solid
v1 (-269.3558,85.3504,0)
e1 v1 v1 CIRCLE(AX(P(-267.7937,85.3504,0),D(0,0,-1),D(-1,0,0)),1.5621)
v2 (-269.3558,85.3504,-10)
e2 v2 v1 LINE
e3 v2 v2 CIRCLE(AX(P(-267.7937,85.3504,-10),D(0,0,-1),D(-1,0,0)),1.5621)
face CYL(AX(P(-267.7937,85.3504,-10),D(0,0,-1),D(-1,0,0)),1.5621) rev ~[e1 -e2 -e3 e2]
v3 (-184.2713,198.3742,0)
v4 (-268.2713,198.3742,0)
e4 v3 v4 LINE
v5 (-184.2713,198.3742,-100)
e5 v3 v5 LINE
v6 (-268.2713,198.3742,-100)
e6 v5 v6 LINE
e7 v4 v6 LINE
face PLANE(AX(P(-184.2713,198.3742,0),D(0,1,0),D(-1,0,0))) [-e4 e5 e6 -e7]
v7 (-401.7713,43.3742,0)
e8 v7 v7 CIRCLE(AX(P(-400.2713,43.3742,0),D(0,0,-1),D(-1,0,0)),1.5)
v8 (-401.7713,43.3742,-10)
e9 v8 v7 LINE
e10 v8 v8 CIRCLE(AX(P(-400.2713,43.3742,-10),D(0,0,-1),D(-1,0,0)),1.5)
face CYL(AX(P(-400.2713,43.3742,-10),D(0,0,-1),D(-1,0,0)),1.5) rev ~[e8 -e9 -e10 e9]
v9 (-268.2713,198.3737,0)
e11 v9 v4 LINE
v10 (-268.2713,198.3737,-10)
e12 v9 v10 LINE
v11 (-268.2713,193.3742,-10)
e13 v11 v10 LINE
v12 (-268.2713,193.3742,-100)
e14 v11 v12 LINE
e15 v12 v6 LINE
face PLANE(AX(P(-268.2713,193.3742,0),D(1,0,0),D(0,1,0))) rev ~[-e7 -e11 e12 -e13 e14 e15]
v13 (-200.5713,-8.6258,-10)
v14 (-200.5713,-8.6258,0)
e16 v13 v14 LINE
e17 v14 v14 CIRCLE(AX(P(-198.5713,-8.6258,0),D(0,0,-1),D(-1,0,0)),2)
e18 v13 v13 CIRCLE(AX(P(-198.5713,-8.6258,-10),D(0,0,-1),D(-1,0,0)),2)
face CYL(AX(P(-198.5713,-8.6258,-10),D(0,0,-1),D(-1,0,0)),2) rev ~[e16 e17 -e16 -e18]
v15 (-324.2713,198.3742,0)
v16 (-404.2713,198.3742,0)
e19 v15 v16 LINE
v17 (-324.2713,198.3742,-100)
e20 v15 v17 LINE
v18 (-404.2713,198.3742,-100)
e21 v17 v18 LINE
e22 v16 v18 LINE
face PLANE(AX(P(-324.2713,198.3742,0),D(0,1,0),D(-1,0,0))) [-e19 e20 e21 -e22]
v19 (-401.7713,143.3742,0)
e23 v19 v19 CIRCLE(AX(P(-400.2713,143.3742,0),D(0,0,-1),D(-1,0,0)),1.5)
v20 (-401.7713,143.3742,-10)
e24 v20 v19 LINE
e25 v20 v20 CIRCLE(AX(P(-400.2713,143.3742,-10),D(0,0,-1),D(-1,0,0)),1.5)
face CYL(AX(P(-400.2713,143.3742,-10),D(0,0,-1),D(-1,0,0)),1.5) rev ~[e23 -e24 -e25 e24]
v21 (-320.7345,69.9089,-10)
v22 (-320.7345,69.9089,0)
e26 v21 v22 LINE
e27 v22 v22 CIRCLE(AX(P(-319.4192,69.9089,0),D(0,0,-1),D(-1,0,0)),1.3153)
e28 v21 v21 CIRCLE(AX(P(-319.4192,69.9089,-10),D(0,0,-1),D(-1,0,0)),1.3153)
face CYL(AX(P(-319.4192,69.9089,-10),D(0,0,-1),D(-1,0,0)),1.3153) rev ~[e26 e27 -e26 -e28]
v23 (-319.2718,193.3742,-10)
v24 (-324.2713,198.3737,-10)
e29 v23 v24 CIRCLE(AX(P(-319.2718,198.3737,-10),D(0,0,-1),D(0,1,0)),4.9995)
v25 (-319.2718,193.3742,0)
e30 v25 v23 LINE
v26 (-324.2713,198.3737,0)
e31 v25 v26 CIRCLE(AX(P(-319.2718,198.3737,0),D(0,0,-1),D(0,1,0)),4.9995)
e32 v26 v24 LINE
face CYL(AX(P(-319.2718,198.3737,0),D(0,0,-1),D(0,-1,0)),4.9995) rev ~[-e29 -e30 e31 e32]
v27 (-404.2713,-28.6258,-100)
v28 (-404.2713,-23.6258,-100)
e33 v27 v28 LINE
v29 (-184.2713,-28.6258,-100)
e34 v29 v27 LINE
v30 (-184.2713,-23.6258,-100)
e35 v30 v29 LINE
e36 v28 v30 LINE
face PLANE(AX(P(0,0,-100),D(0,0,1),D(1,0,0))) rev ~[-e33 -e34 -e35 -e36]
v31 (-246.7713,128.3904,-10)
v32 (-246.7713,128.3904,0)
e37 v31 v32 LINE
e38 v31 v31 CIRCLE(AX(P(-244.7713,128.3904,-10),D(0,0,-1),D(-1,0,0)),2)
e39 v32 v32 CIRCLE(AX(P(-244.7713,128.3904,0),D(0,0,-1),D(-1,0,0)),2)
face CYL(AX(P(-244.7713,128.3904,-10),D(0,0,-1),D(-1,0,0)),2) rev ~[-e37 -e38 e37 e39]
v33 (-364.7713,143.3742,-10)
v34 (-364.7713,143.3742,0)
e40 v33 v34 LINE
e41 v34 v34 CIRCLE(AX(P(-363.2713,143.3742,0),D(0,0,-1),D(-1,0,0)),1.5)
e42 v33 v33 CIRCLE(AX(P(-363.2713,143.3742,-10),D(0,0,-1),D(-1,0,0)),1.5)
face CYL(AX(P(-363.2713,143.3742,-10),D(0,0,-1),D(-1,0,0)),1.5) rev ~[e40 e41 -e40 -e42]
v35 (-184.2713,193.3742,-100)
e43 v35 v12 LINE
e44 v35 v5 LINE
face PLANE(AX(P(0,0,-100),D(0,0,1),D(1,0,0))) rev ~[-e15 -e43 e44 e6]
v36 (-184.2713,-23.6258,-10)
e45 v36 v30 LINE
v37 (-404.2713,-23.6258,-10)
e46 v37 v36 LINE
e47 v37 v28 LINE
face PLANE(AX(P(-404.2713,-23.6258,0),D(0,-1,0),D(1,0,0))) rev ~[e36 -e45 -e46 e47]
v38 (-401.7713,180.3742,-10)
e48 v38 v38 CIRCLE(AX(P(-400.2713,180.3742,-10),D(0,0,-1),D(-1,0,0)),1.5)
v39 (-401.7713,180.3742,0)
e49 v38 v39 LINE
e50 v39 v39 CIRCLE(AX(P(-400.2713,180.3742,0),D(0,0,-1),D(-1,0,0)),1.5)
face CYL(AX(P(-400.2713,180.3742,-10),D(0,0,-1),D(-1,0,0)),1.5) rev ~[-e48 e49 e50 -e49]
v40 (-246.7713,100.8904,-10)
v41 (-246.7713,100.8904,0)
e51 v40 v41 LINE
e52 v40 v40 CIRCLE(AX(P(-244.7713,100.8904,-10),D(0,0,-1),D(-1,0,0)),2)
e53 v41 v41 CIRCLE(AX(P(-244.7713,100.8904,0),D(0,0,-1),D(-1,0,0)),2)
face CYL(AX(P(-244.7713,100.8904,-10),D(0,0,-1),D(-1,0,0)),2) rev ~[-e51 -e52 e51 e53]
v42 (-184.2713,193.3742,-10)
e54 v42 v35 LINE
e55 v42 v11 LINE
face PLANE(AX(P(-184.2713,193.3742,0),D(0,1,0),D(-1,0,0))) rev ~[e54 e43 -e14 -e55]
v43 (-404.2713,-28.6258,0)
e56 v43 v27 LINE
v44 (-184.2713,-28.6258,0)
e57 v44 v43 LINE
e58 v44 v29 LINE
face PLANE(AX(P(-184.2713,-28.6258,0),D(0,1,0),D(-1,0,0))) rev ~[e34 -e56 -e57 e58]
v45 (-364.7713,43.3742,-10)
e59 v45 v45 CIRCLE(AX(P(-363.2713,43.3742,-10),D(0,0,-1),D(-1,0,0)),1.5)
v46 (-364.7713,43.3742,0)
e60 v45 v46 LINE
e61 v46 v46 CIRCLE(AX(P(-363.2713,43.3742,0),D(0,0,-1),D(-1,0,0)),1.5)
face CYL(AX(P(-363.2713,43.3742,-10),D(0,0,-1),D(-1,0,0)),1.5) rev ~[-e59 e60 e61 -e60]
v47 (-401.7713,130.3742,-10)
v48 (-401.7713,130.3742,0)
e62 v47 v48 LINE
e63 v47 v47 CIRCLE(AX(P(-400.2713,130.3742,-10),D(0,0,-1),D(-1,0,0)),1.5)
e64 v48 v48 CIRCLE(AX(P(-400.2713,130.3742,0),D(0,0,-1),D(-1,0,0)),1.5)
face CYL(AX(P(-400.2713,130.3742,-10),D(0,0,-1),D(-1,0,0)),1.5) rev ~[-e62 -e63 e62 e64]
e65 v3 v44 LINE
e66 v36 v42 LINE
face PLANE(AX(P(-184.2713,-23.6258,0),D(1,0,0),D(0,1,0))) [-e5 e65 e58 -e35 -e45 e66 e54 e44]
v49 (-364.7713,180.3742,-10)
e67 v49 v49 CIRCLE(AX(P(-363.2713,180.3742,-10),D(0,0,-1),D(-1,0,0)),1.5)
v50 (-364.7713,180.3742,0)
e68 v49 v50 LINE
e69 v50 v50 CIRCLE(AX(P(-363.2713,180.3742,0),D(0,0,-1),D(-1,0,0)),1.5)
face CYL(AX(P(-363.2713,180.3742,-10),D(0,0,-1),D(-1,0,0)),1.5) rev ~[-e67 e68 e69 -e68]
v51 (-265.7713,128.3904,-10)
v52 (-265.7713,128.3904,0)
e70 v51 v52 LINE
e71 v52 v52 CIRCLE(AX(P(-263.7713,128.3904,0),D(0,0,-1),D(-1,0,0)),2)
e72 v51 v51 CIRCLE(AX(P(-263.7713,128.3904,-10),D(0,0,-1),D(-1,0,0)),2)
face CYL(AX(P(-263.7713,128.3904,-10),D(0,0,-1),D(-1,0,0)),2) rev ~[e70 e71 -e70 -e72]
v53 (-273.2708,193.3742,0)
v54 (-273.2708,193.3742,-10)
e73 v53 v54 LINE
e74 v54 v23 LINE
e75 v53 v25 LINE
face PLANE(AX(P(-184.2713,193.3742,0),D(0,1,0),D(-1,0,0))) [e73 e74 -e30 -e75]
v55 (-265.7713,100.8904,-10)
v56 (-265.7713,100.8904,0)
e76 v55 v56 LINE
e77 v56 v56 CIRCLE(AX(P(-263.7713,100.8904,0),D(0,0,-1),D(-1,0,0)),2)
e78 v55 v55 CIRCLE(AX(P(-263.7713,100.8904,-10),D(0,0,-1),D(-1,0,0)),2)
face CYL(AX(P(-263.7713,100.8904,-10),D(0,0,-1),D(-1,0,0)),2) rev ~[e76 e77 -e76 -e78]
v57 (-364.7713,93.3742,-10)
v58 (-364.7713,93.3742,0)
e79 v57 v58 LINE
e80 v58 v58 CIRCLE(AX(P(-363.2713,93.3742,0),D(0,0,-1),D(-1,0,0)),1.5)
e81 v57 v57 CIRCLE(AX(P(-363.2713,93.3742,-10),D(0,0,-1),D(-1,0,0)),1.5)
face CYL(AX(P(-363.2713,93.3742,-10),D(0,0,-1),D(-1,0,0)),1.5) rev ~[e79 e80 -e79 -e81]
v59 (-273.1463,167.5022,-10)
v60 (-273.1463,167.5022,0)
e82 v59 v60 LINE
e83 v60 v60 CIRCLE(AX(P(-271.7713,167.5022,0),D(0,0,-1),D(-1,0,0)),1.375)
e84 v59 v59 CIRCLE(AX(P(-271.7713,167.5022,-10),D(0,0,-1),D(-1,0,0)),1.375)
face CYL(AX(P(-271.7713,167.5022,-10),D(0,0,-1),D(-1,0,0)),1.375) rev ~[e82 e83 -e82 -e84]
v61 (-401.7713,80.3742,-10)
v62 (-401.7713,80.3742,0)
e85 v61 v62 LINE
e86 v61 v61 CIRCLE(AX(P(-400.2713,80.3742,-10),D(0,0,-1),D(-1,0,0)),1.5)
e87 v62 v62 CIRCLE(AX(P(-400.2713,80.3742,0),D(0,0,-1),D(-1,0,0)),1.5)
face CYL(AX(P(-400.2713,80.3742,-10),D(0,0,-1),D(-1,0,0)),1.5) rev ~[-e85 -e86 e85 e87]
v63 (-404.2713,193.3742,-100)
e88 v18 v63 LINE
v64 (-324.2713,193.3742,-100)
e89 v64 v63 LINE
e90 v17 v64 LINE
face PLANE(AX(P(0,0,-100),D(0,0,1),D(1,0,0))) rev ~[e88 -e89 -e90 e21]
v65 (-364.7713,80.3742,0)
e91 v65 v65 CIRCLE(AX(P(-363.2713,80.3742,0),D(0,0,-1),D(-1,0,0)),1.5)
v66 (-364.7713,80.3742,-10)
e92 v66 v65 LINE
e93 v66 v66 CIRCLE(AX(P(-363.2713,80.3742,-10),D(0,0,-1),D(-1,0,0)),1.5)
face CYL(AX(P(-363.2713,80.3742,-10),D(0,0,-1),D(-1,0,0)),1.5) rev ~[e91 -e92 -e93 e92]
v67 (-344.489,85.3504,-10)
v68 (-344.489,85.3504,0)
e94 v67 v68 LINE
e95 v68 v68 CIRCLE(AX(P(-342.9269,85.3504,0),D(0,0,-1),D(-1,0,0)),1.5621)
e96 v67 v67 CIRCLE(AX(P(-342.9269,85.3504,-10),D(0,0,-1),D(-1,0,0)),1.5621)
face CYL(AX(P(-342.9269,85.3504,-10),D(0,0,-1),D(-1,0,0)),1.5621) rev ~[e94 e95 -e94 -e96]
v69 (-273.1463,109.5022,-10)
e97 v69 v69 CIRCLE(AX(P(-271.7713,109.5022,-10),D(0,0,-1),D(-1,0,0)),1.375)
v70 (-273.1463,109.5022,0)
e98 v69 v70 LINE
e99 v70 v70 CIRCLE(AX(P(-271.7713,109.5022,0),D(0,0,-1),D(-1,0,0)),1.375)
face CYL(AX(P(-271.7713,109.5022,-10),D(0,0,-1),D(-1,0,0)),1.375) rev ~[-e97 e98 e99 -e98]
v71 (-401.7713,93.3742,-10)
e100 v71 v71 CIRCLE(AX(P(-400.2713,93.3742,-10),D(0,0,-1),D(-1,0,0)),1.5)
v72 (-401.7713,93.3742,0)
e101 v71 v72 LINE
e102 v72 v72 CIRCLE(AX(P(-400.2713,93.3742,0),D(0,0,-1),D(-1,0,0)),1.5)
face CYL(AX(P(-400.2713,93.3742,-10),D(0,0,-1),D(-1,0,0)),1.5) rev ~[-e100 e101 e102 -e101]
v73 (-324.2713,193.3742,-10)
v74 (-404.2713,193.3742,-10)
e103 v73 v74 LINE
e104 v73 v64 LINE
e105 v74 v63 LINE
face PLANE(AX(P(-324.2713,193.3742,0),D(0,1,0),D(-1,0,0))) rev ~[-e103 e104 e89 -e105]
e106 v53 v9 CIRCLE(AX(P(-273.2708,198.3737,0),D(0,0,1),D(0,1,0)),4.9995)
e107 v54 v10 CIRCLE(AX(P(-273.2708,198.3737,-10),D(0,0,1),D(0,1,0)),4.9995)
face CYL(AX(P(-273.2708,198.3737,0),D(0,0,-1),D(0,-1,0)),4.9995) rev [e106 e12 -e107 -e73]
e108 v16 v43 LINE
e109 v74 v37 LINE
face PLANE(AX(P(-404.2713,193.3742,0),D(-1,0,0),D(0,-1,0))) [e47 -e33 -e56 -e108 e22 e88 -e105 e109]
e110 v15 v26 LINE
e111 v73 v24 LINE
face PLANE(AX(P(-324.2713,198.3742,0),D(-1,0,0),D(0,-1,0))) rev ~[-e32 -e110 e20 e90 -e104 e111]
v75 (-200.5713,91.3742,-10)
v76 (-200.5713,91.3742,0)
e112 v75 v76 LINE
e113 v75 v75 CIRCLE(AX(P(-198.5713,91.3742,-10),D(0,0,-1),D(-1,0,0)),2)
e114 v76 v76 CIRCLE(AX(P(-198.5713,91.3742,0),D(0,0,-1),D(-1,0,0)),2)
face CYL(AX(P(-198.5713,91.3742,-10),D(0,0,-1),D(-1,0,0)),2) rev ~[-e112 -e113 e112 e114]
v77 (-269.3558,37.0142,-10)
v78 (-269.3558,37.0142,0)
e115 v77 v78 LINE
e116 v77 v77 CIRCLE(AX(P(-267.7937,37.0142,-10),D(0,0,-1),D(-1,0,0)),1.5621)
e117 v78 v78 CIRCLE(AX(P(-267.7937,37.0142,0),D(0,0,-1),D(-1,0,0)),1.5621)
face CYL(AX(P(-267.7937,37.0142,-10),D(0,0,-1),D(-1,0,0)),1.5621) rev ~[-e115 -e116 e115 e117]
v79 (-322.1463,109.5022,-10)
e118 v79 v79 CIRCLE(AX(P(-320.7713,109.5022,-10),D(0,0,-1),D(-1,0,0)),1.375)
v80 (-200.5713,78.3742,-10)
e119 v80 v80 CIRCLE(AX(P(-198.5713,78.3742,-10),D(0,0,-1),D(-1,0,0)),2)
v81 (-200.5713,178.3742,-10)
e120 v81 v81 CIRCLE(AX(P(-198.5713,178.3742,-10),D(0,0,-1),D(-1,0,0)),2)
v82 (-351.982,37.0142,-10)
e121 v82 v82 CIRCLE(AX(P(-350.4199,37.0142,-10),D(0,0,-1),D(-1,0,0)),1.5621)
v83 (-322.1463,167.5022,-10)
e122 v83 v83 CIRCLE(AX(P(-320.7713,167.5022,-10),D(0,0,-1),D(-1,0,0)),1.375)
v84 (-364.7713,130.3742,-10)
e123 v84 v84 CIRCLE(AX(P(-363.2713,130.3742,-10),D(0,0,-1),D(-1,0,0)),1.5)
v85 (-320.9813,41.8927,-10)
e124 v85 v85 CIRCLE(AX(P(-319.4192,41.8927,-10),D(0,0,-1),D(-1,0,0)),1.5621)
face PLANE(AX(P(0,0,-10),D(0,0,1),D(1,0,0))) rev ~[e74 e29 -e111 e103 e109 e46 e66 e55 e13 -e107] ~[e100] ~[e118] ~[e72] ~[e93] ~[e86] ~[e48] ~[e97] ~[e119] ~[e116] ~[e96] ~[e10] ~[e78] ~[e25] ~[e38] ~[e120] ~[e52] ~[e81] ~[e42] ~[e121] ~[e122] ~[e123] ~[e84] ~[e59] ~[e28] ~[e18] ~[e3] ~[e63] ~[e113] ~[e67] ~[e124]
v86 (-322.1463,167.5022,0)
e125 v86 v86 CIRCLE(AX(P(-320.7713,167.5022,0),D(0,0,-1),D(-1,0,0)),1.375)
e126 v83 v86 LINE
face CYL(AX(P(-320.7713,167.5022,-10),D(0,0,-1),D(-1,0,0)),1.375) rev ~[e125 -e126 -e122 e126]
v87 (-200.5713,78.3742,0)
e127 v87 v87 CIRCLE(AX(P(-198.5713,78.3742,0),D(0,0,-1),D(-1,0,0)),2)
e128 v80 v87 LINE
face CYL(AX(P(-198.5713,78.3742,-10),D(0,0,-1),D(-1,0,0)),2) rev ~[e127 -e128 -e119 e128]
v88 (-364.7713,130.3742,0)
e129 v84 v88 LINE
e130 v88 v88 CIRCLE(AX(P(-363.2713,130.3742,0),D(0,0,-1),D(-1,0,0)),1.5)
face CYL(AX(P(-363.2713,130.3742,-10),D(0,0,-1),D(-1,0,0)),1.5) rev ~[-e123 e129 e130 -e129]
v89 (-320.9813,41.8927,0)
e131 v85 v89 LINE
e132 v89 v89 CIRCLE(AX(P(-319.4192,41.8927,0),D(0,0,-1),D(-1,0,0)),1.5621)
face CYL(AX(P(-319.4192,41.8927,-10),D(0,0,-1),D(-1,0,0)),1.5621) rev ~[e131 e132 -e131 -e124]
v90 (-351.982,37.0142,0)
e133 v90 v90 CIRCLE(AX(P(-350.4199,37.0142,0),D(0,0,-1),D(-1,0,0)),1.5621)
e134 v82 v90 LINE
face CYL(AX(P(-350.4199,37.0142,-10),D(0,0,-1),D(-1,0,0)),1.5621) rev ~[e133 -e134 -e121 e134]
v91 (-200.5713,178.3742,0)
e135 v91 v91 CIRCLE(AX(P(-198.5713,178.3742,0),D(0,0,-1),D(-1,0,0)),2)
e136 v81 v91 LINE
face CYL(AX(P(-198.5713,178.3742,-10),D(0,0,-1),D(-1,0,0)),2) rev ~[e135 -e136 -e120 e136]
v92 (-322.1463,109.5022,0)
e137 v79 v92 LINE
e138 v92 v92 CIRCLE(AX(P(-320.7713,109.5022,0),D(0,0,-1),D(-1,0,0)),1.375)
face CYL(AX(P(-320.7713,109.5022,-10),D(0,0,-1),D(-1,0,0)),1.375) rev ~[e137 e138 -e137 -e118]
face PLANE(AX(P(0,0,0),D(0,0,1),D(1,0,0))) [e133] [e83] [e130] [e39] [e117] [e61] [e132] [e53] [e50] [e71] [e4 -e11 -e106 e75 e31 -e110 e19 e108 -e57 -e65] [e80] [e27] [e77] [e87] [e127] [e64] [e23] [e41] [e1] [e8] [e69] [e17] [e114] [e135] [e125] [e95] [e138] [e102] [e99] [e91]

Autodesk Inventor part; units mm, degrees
ref_plane "YZ Plane" through (0, 0, 0) normal (1, 0, 0) x (0, 1, 0)
ref_plane "XZ Plane" through (0, 0, 0) normal (0, 1, 0) x (-1, 0, 0)
ref_plane "XY Plane" through (0, 0, 0) normal (0, 0, 1) x (1, 0, 0)
sketch "Sketch1" plane through (0, 0, 0) normal (0, 0, 1) x (1, 0, 0)
  line L0 (-184.2713, 193.3742) -> (-404.2713, 193.3742)
  line L1 (-404.2713, 193.3742) -> (-404.2713, -23.6258)
  line L2 (-404.2713, -23.6258) -> (-184.2713, -23.6258)
  line L3 (-184.2713, -23.6258) -> (-184.2713, 193.3742)
  line L4 (-196.3213, 183.3742) -> (-190.7713, 183.3742) projected
  point P0 (0, 0)
  dimension "d2" = 10
  dimension "d3" = 217
  dimension "d4" = 220
extrude "Extrusion1" add sketch "Sketch1" against normal blind 10
sketch "Sketch2" plane through (0, 0, -10) normal (0, 0, -1) x (-1, 0, 0)
  line L0 (404.2713, -23.6258) -> (404.2713, 193.3742) projected
  line L1 (404.2713, 193.3742) -> (184.2713, 193.3742) projected
  line L2 (184.2713, 193.3742) -> (184.2713, -23.6258) projected
  line L3 (184.2713, -23.6258) -> (404.2713, -23.6258) projected
  circle A0 centre (400.2713, 80.3742) radius 1.5 projected
  circle A1 centre (363.2713, 80.3742) radius 1.5 projected
  circle A2 centre (400.2713, 93.3742) radius 1.5 projected
  circle A3 centre (363.2713, 93.3742) radius 1.5 projected
  circle A4 centre (363.2713, 130.3742) radius 1.5 projected
  circle A5 centre (400.2713, 130.3742) radius 1.5 projected
  circle A6 centre (400.2713, 143.3742) radius 1.5 projected
  circle A7 centre (400.2713, 180.3742) radius 1.5 projected
  circle A8 centre (363.2713, 180.3742) radius 1.5 projected
  circle A9 centre (363.2713, 143.3742) radius 1.5 projected
  circle A10 centre (320.7713, 167.5022) radius 1.375 projected
  circle A11 centre (320.7713, 109.5022) radius 1.375 projected
  circle A12 centre (271.7713, 109.5022) radius 1.375 projected
  circle A13 centre (271.7713, 167.5022) radius 1.375 projected
  circle A14 centre (244.7713, 128.3904) radius 2 projected
  circle A15 centre (244.7713, 100.8904) radius 2 projected
  circle A16 centre (263.7713, 100.8904) radius 2 projected
  circle A17 centre (263.7713, 128.3904) radius 2 projected
  line L4 (264.4663, 47.3647) -> (264.4663, 46.7297) projected
  arc A18 (264.4663, 46.7297) -> (264.5298, 46.6662) centre (264.5298, 46.7297) ccw projected
  line L5 (264.5298, 46.6662) -> (266.003, 46.6662) projected
  arc A19 (266.0665, 46.6027) -> (266.003, 46.6662) centre (266.003, 46.6027) ccw projected
  line L6 (266.0665, 39.1097) -> (266.0665, 46.6027) projected
  arc A20 (266.003, 39.0462) -> (266.0665, 39.1097) centre (266.003, 39.1097) ccw projected
  line L7 (266.003, 39.0462) -> (264.5298, 39.0462) projected
  arc A21 (264.5298, 39.0462) -> (264.4663, 38.9827) centre (264.5298, 38.9827) ccw projected
  line L8 (264.4663, 38.9827) -> (264.4663, 38.3477) projected
  arc A22 (264.4028, 38.2842) -> (264.4663, 38.3477) centre (264.4028, 38.3477) ccw projected
  line L9 (253.6713, 38.2842) -> (264.4028, 38.2842) projected
  line L10 (253.6713, 35.9982) -> (253.6713, 38.2842) projected
  line L11 (253.6713, 35.9982) -> (255.1953, 34.4742) projected
  line L12 (351.7153, 34.4742) -> (255.1953, 34.4742) projected
  line L13 (351.7153, 34.4742) -> (355.2713, 38.0302) projected
  line L14 (355.2713, 72.6504) -> (355.2713, 38.0302) projected
  line L15 (352.7313, 75.1904) -> (355.2713, 72.6504) projected
  line L16 (352.7313, 86.127) -> (352.7313, 75.1904) projected
  line L17 (350.9679, 87.8904) -> (352.7313, 86.127) projected
  line L18 (255.1953, 87.8904) -> (350.9679, 87.8904) projected
  line L19 (255.1953, 87.8904) -> (253.6713, 86.3664) projected
  line L20 (253.6713, 78.6194) -> (253.6713, 86.3664) projected
  line L21 (260.6817, 78.6194) -> (253.6713, 78.6194) projected
  line L22 (260.6817, 78.6829) -> (260.6817, 78.6194) projected
  line L23 (263.6281, 78.6829) -> (260.6817, 78.6829) projected
  line L24 (263.6281, 66.6179) -> (263.6281, 78.6829) projected
  line L25 (263.6281, 66.6179) -> (260.6817, 66.6179) projected
  line L26 (260.6817, 66.6179) -> (260.6817, 66.6814) projected
  line L27 (253.6713, 66.6814) -> (260.6817, 66.6814) projected
  line L28 (253.6713, 47.4282) -> (253.6713, 66.6814) projected
  line L29 (264.4028, 47.4282) -> (253.6713, 47.4282) projected
  arc A23 (264.4663, 47.3647) -> (264.4028, 47.4282) centre (264.4028, 47.3647) ccw projected
  line L30 (301.2963, 35.8204) -> (301.2963, 38.2698) projected
  line L31 (285.5991, 35.8204) -> (301.2963, 35.8204) projected
  line L32 (285.5991, 38.2698) -> (285.5991, 35.8204) projected
  line L33 (301.2963, 38.2698) -> (285.5991, 38.2698) projected
  line L34 (274.9311, 84.1566) -> (295.6829, 84.1566) projected
  line L35 (274.9311, 86.6204) -> (274.9311, 84.1566) projected
  line L36 (295.6829, 86.6204) -> (274.9311, 86.6204) projected
  line L37 (295.6829, 84.1566) -> (295.6829, 86.6204) projected
  line L38 (326.1883, 38.2842) -> (326.1883, 35.8204) projected
  line L39 (347.0163, 38.2842) -> (326.1883, 38.2842) projected
  line L40 (347.0163, 35.8204) -> (347.0163, 38.2842) projected
  line L41 (326.1883, 35.8204) -> (347.0163, 35.8204) projected
  line L42 (351.2073, 40.3924) -> (351.2073, 86.6712) projected
  line L43 (346.2289, 40.3924) -> (351.2073, 40.3924) projected
  line L44 (346.2289, 86.6712) -> (346.2289, 40.3924) projected
  line L45 (351.2073, 86.6712) -> (346.2289, 86.6712) projected
  line L46 (320.3971, 86.6204) -> (320.3971, 84.1566) projected
  line L47 (341.1489, 86.6204) -> (320.3971, 86.6204) projected
  line L48 (341.1489, 84.1566) -> (341.1489, 86.6204) projected
  line L49 (320.3971, 84.1566) -> (341.1489, 84.1566) projected
  line L50 (297.6641, 84.1566) -> (318.4159, 84.1566) projected
  line L51 (297.6641, 86.6204) -> (297.6641, 84.1566) projected
  line L52 (318.4159, 86.6204) -> (297.6641, 86.6204) projected
  line L53 (318.4159, 84.1566) -> (318.4159, 86.6204) projected
  line L54 (303.4553, 35.8204) -> (324.2833, 35.8204) projected
  line L55 (303.4553, 38.2842) -> (303.4553, 35.8204) projected
  line L56 (324.2833, 38.2842) -> (303.4553, 38.2842) projected
  line L57 (324.2833, 35.8204) -> (324.2833, 38.2842) projected
  line L58 (280.1404, 60.0164) -> (280.1404, 58.6083) projected
  line L59 (282.9054, 60.0164) -> (280.1404, 60.0164) projected
  line L60 (282.9054, 58.6083) -> (282.9054, 60.0164) projected
  line L61 (280.1404, 58.6083) -> (282.9054, 58.6083) projected
  line L62 (260.5311, 55.1409) -> (260.5311, 48.6482) projected
  line L63 (263.8001, 55.1409) -> (260.5311, 55.1409) projected
  line L64 (263.8001, 48.6482) -> (263.8001, 55.1409) projected
  line L65 (260.5311, 48.6482) -> (263.8001, 48.6482) projected
  line L66 (270.6715, 56.9261) -> (270.6715, 54.065) projected
  line L67 (273.4919, 56.9261) -> (270.6715, 56.9261) projected
  line L68 (273.4919, 54.065) -> (273.4919, 56.9261) projected
  line L69 (270.6715, 54.065) -> (273.4919, 54.065) projected
  line L70 (274.4255, 51.6909) -> (274.4255, 50.9604) projected
  line L71 (276.0217, 51.6909) -> (274.4255, 51.6909) projected
  line L72 (276.0217, 50.9604) -> (276.0217, 51.6909) projected
  line L73 (274.4255, 50.9604) -> (276.0217, 50.9604) projected
  line L74 (256.3541, 63.1285) -> (256.3541, 58.6083) projected
  line L75 (259.5172, 63.1285) -> (256.3541, 63.1285) projected
  line L76 (259.5172, 58.6083) -> (259.5172, 63.1285) projected
  line L77 (256.3541, 58.6083) -> (259.5172, 58.6083) projected
  line L78 (291.5916, 41.6564) -> (291.5916, 40.9303) projected
  line L79 (293.1393, 41.6564) -> (291.5916, 41.6564) projected
  line L80 (293.1393, 40.9303) -> (293.1393, 41.6564) projected
  line L81 (291.5916, 40.9303) -> (293.1393, 40.9303) projected
  line L82 (293.7611, 49.5648) -> (293.7611, 48.1079) projected
  line L83 (294.7627, 49.5648) -> (293.7611, 49.5648) projected
  line L84 (294.7627, 48.1079) -> (294.7627, 49.5648) projected
  line L85 (293.7611, 48.1079) -> (294.7627, 48.1079) projected
  line L86 (288.3803, 50.4207) -> (288.3803, 47.161) projected
  line L87 (290.2322, 50.4207) -> (288.3803, 50.4207) projected
  line L88 (290.2322, 47.161) -> (290.2322, 50.4207) projected
  line L89 (288.3803, 47.161) -> (290.2322, 47.161) projected
  line L90 (280.9006, 56.1124) -> (280.9006, 55.3512) projected
  line L91 (282.4644, 56.1124) -> (280.9006, 56.1124) projected
  line L92 (282.4644, 55.3512) -> (282.4644, 56.1124) projected
  line L93 (280.9006, 55.3512) -> (282.4644, 55.3512) projected
  line L94 (264.9561, 63.8625) -> (264.9561, 63.1285) projected
  line L95 (266.426, 63.8625) -> (264.9561, 63.8625) projected
  line L96 (266.426, 63.1285) -> (266.426, 63.8625) projected
  line L97 (264.9561, 63.1285) -> (266.426, 63.1285) projected
  line L98 (271.2991, 63.995) -> (271.2991, 63.1285) projected
  line L99 (272.8749, 63.995) -> (271.2991, 63.995) projected
  line L100 (272.8749, 63.1285) -> (272.8749, 63.995) projected
  line L101 (271.2991, 63.1285) -> (272.8749, 63.1285) projected
  line L102 (277.5304, 63.995) -> (277.5304, 63.1285) projected
  line L103 (279.0938, 63.995) -> (277.5304, 63.995) projected
  line L104 (279.0938, 63.1285) -> (279.0938, 63.995) projected
  line L105 (277.5304, 63.1285) -> (279.0938, 63.1285) projected
  line L106 (280.586, 69.1892) -> (280.586, 67.9164) projected
  line L107 (282.364, 69.1892) -> (280.586, 69.1892) projected
  line L108 (282.364, 67.9164) -> (282.364, 69.1892) projected
  line L109 (280.586, 67.9164) -> (282.364, 67.9164) projected
  line L110 (281.1017, 75.279) -> (281.1017, 72.0231) projected
  line L111 (281.9552, 75.279) -> (281.1017, 75.279) projected
  line L112 (281.9552, 72.0231) -> (281.9552, 75.279) projected
  line L113 (281.1017, 72.0231) -> (281.9552, 72.0231) projected
  line L114 (280.723, 79.124) -> (280.723, 78.3693) projected
  line L115 (282.1593, 79.124) -> (280.723, 79.124) projected
  line L116 (282.1593, 78.3693) -> (282.1593, 79.124) projected
  line L117 (280.723, 78.3693) -> (282.1593, 78.3693) projected
  line L118 (264.8237, 76.8639) -> (264.8237, 76.0914) projected
  line L119 (266.426, 76.8639) -> (264.8237, 76.8639) projected
  line L120 (266.426, 76.0914) -> (266.426, 76.8639) projected
  line L121 (264.8237, 76.0914) -> (266.426, 76.0914) projected
  line L122 (265.1217, 72.9188) -> (265.1217, 69.7454) projected
  line L123 (266.0847, 72.9188) -> (265.1217, 72.9188) projected
  line L124 (266.0847, 69.7454) -> (266.0847, 72.9188) projected
  line L125 (265.1217, 69.7454) -> (266.0847, 69.7454) projected
  line L126 (329.347, 72.0231) -> (329.347, 70.6029) projected
  line L127 (331.1516, 72.0231) -> (329.347, 72.0231) projected
  line L128 (331.1516, 70.6029) -> (331.1516, 72.0231) projected
  line L129 (329.347, 70.6029) -> (331.1516, 70.6029) projected
  line L130 (265.4938, 82.1758) -> (265.4938, 78.9239) projected
  line L131 (267.314, 82.1758) -> (265.4938, 82.1758) projected
  line L132 (267.314, 78.9239) -> (267.314, 82.1758) projected
  line L133 (265.4938, 78.9239) -> (267.314, 78.9239) projected
  arc A24 (268.1885, 62.0274) -> (268.1885, 58.2685) centre (268.5107, 60.148) ccw projected
  line L134 (276.0872, 62.0274) -> (268.1885, 62.0274) projected
  arc A25 (276.0872, 58.2685) -> (276.0872, 62.0274) centre (275.765, 60.148) ccw projected
  line L135 (268.1885, 58.2685) -> (276.0872, 58.2685) projected
  circle A26 centre (278.8902, 43.0749) radius 3.302 projected
  line L136 (321.5903, 61.6809) -> (321.5903, 62.3455) projected
  line L137 (320.5743, 60.6649) -> (321.5903, 61.6809) projected
  line L138 (317.1957, 60.6649) -> (320.5743, 60.6649) projected
  line L139 (316.1797, 61.6809) -> (317.1957, 60.6649) projected
  line L140 (316.1797, 62.3455) -> (316.1797, 61.6809) projected
  line L141 (317.1957, 63.3615) -> (316.1797, 62.3455) projected
  line L142 (320.5743, 63.3615) -> (317.1957, 63.3615) projected
  line L143 (321.5903, 62.3455) -> (320.5743, 63.3615) projected
  line L144 (269.5764, 83.2492) -> (268.916, 83.2492) projected
  line L145 (270.5924, 82.2332) -> (269.5764, 83.2492) projected
  line L146 (270.5924, 78.855) -> (270.5924, 82.2332) projected
  line L147 (269.5764, 77.839) -> (270.5924, 78.855) projected
  line L148 (268.916, 77.839) -> (269.5764, 77.839) projected
  line L149 (267.9, 78.855) -> (268.916, 77.839) projected
  line L150 (267.9, 82.2332) -> (267.9, 78.855) projected
  line L151 (268.916, 83.2492) -> (267.9, 82.2332) projected
  line L152 (274.504, 83.2492) -> (273.488, 82.2332) projected
  line L153 (275.1644, 83.2492) -> (274.504, 83.2492) projected
  line L154 (276.1804, 82.2332) -> (275.1644, 83.2492) projected
  line L155 (276.1804, 78.855) -> (276.1804, 82.2332) projected
  line L156 (275.1644, 77.839) -> (276.1804, 78.855) projected
  line L157 (274.504, 77.839) -> (275.1644, 77.839) projected
  line L158 (273.488, 78.855) -> (274.504, 77.839) projected
  line L159 (273.488, 82.2332) -> (273.488, 78.855) projected
  circle A27 centre (267.7937, 85.3504) radius 1.5621 projected
  circle A28 centre (267.7937, 37.0142) radius 1.5621 projected
  circle A29 centre (350.4199, 37.0142) radius 1.5621 projected
  circle A30 centre (319.4192, 41.8927) radius 1.5621 projected
  circle A31 centre (319.4192, 69.9089) radius 1.3153 projected
  circle A32 centre (342.9269, 85.3504) radius 1.5621 projected
  line L160 (271.71, 83.2492) -> (270.694, 82.2332) projected
  line L161 (272.3704, 83.2492) -> (271.71, 83.2492) projected
  line L162 (273.3864, 82.2332) -> (272.3704, 83.2492) projected
  line L163 (273.3864, 78.855) -> (273.3864, 82.2332) projected
  line L164 (272.3704, 77.839) -> (273.3864, 78.855) projected
  line L165 (271.71, 77.839) -> (272.3704, 77.839) projected
  line L166 (270.694, 78.855) -> (271.71, 77.839) projected
  line L167 (270.694, 82.2332) -> (270.694, 78.855) projected
  line L168 (321.5903, 58.8869) -> (321.5903, 59.5515) projected
  line L169 (320.5743, 57.8709) -> (321.5903, 58.8869) projected
  line L170 (317.1957, 57.8709) -> (320.5743, 57.8709) projected
  line L171 (316.1797, 58.8869) -> (317.1957, 57.8709) projected
  line L172 (316.1797, 59.5515) -> (316.1797, 58.8869) projected
  line L173 (317.1957, 60.5675) -> (316.1797, 59.5515) projected
  line L174 (320.5743, 60.5675) -> (317.1957, 60.5675) projected
  line L175 (321.5903, 59.5515) -> (320.5743, 60.5675) projected
  line L176 (321.5903, 64.4749) -> (321.5903, 65.1395) projected
  line L177 (320.5743, 63.4589) -> (321.5903, 64.4749) projected
  line L178 (317.1957, 63.4589) -> (320.5743, 63.4589) projected
  line L179 (316.1797, 64.4749) -> (317.1957, 63.4589) projected
  line L180 (316.1797, 65.1395) -> (316.1797, 64.4749) projected
  line L181 (317.1957, 66.1555) -> (316.1797, 65.1395) projected
  line L182 (320.5743, 66.1555) -> (317.1957, 66.1555) projected
  line L183 (321.5903, 65.1395) -> (320.5743, 66.1555) projected
  circle A33 centre (271.7013, 43.0749) radius 3.302 projected
  line L184 (324.9856, 65.2513) -> (324.9856, 58.9724) projected
  line L185 (331.4465, 65.2513) -> (324.9856, 65.2513) projected
  line L186 (331.4465, 58.9724) -> (331.4465, 65.2513) projected
  line L187 (324.9856, 58.9724) -> (331.4465, 58.9724) projected
  line L188 (334.0973, 72.9188) -> (334.0973, 69.5148) projected
  line L189 (335.3446, 72.9188) -> (334.0973, 72.9188) projected
  line L190 (335.3446, 69.5148) -> (335.3446, 72.9188) projected
  line L191 (334.0973, 69.5148) -> (335.3446, 69.5148) projected
  line L192 (264.8237, 69.0398) -> (264.8237, 68.1038) projected
  line L193 (266.426, 69.0398) -> (264.8237, 69.0398) projected
  line L194 (266.426, 68.1038) -> (266.426, 69.0398) projected
  line L195 (264.8237, 68.1038) -> (266.426, 68.1038) projected
  line L196 (264.8237, 74.5464) -> (264.8237, 73.651) projected
  line L197 (266.426, 74.5464) -> (264.8237, 74.5464) projected
  line L198 (266.426, 73.651) -> (266.426, 74.5464) projected
  line L199 (264.8237, 73.651) -> (266.426, 73.651) projected
  line L200 (260.7973, 80.0134) -> (260.7973, 78.9239) projected
  line L201 (262.7392, 80.0134) -> (260.7973, 80.0134) projected
  line L202 (262.7392, 78.9239) -> (262.7392, 80.0134) projected
  line L203 (260.7973, 78.9239) -> (262.7392, 78.9239) projected
  line L204 (280.586, 77.0683) -> (280.586, 75.8363) projected
  line L205 (282.364, 77.0683) -> (280.586, 77.0683) projected
  line L206 (282.364, 75.8363) -> (282.364, 77.0683) projected
  line L207 (280.586, 75.8363) -> (282.364, 75.8363) projected
  line L208 (280.586, 71.5023) -> (280.586, 70.2429) projected
  line L209 (282.364, 71.5023) -> (280.586, 71.5023) projected
  line L210 (282.364, 70.2429) -> (282.364, 71.5023) projected
  line L211 (280.586, 70.2429) -> (282.364, 70.2429) projected
  line L212 (281.1017, 66.9428) -> (281.1017, 63.7241) projected
  line L213 (282.1593, 66.9428) -> (281.1017, 66.9428) projected
  line L214 (282.1593, 63.7241) -> (282.1593, 66.9428) projected
  line L215 (281.1017, 63.7241) -> (282.1593, 63.7241) projected
  line L216 (274.4255, 63.995) -> (274.4255, 63.1285) projected
  line L217 (275.9057, 63.995) -> (274.4255, 63.995) projected
  line L218 (275.9057, 63.1285) -> (275.9057, 63.995) projected
  line L219 (274.4255, 63.1285) -> (275.9057, 63.1285) projected
  line L220 (268.0843, 63.8625) -> (268.0843, 63.1285) projected
  line L221 (269.6173, 63.8625) -> (268.0843, 63.8625) projected
  line L222 (269.6173, 63.1285) -> (269.6173, 63.8625) projected
  line L223 (268.0843, 63.1285) -> (269.6173, 63.1285) projected
  line L224 (264.8237, 65.4913) -> (264.8237, 64.816) projected
  line L225 (266.426, 65.4913) -> (264.8237, 65.4913) projected
  line L226 (266.426, 64.816) -> (266.426, 65.4913) projected
  line L227 (264.8237, 64.816) -> (266.426, 64.816) projected
  line L228 (280.8086, 52.8068) -> (280.8086, 52.0587) projected
  line L229 (282.364, 52.8068) -> (280.8086, 52.8068) projected
  line L230 (282.364, 52.0587) -> (282.364, 52.8068) projected
  line L231 (280.8086, 52.0587) -> (282.364, 52.0587) projected
  line L232 (291.4666, 50.4207) -> (291.4666, 47.161) projected
  line L233 (292.7414, 50.4207) -> (291.4666, 50.4207) projected
  line L234 (292.7414, 47.161) -> (292.7414, 50.4207) projected
  line L235 (291.4666, 47.161) -> (292.7414, 47.161) projected
  line L236 (286.7319, 50.0382) -> (286.7319, 47.9076) projected
  line L237 (287.6971, 50.0382) -> (286.7319, 50.0382) projected
  line L238 (287.6971, 47.9076) -> (287.6971, 50.0382) projected
  line L239 (286.7319, 47.9076) -> (287.6971, 47.9076) projected
  line L240 (262.1656, 61.3744) -> (262.1656, 58.6083) projected
  line L241 (263.3129, 61.3744) -> (262.1656, 61.3744) projected
  line L242 (263.3129, 58.6083) -> (263.3129, 61.3744) projected
  line L243 (262.1656, 58.6083) -> (263.3129, 58.6083) projected
  line L244 (267.6886, 52.5228) -> (267.6886, 50.9604) projected
  line L245 (268.48, 52.5228) -> (267.6886, 52.5228) projected
  line L246 (268.48, 50.9604) -> (268.48, 52.5228) projected
  line L247 (267.6886, 50.9604) -> (268.48, 50.9604) projected
  line L248 (271.6658, 52.259) -> (271.6658, 49.053) projected
  line L249 (272.6195, 52.259) -> (271.6658, 52.259) projected
  line L250 (272.6195, 49.053) -> (272.6195, 52.259) projected
  line L251 (271.6658, 49.053) -> (272.6195, 49.053) projected
  line L252 (273.2984, 38.1367) -> (273.2984, 35.6899) projected
  line L253 (277.3334, 38.1367) -> (273.2984, 38.1367) projected
  line L254 (277.3334, 35.6899) -> (277.3334, 38.1367) projected
  line L255 (273.2984, 35.6899) -> (277.3334, 35.6899) projected
  line L256 (270.9621, 71.5023) -> (270.9621, 66.5772) projected
  line L257 (276.0217, 71.5023) -> (270.9621, 71.5023) projected
  line L258 (276.0217, 66.5772) -> (276.0217, 71.5023) projected
  line L259 (270.9621, 66.5772) -> (276.0217, 66.5772) projected
  line L260 (297.5109, 69.7454) -> (297.5109, 55.5474) projected
  line L261 (311.5444, 69.7454) -> (297.5109, 69.7454) projected
  line L262 (311.5444, 55.5474) -> (311.5444, 69.7454) projected
  line L263 (297.5109, 55.5474) -> (311.5444, 55.5474) projected
  arc A34 (196.3213, 78.3742) -> (200.8213, 78.3742) centre (198.5713, 78.3742) ccw projected
  arc A35 (200.8213, -8.6258) -> (196.3213, -8.6258) centre (198.5713, -8.6258) ccw projected
  line L264 (209.2713, 93.8742) -> (190.7713, 93.8742) projected
  line L265 (190.7713, 86.3742) -> (190.7713, 93.8742) projected
  line L266 (196.3213, 86.3742) -> (190.7713, 86.3742) projected
  line L267 (196.3213, 86.3742) -> (196.3213, 91.3742) projected
  arc A36 (200.8213, 91.3742) -> (196.3213, 91.3742) centre (198.5713, 91.3742) ccw projected
  line L268 (200.8213, 91.3742) -> (200.8213, 86.3742) projected
  line L269 (210.3213, 86.3742) -> (200.8213, 86.3742) projected
  line L270 (210.3213, 86.3742) -> (210.3213, 183.3742) projected
  line L271 (210.3213, 183.3742) -> (200.8213, 183.3742) projected
  line L272 (200.8213, 178.3742) -> (200.8213, 183.3742) projected
  arc A37 (196.3213, 178.3742) -> (200.8213, 178.3742) centre (198.5713, 178.3742) ccw projected
  line L273 (196.3213, 183.3742) -> (196.3213, 178.3742) projected
  line L274 (196.3213, 183.3742) -> (190.7713, 183.3742) projected
  line L275 (190.7713, 175.8742) -> (190.7713, 183.3742) projected
  line L276 (190.7713, 175.8742) -> (209.2713, 175.8742) projected
  arc A38 (210.2713, 174.8742) -> (209.2713, 175.8742) centre (209.2713, 174.8742) ccw projected
  line L277 (210.2713, 174.8742) -> (210.2713, 94.8742) projected
  arc A39 (209.2713, 93.8742) -> (210.2713, 94.8742) centre (209.2713, 94.8742) ccw projected
  circle A40 centre (198.5713, -8.6258) radius 2
  circle A41 centre (198.5713, 78.3742) radius 2
  circle A42 centre (198.5713, 91.3742) radius 2
  circle A43 centre (198.5713, 178.3742) radius 2
  circle A44 centre (363.2713, 43.3742) radius 1.5 projected
  circle A45 centre (400.2713, 43.3742) radius 1.5 projected
  point P0 (0, 0)
  dimension "d5" = 4
  dimension "d6" = 4
  dimension "d7" = 4
  dimension "d8" = 4
extrude "Extrusion2" cut sketch "Sketch2" against normal through all contours A0 | A1 | A2 | A3 | A4 | A5 | A6 | A7 | A8 | A9 | A10 | A11 | A12 | A13 | A14 | A15 | A16 | A17 | A27 | A28 | A29 | A30 | A31 | A32 | A40 | A41 | A42 | A43 | A44 | A45
sketch "Sketch3" plane through (0, 0, 0) normal (0, 0, 1) x (1, 0, 0)
  line L0 (-184.2713, 193.3742) -> (-404.2713, 193.3742) projected
  line L1 (-404.2713, 193.3742) -> (-184.2713, 193.3742)
  line L2 (-184.2713, 193.3742) -> (-184.2713, 198.3742)
  line L3 (-184.2713, 198.3742) -> (-404.2713, 198.3742)
  line L4 (-404.2713, 198.3742) -> (-404.2713, 193.3742)
  line L5 (-404.2713, -23.6258) -> (-404.2713, 193.3742) projected
  line L6 (-404.2713, -23.6258) -> (-184.2713, -23.6258)
  line L7 (-184.2713, -23.6258) -> (-184.2713, -28.6258)
  line L8 (-184.2713, -28.6258) -> (-404.2713, -28.6258)
  line L9 (-404.2713, -28.6258) -> (-404.2713, -23.6258)
  line L10 (-184.2713, -23.6258) -> (-184.2713, 193.3742) projected
  line L11 (-324.2713, 193.3742) -> (-268.2713, 193.3742)
  line L12 (-268.2713, 193.3742) -> (-268.2713, 198.3742)
  line L13 (-268.2713, 198.3742) -> (-324.2713, 198.3742)
  line L14 (-324.2713, 198.3742) -> (-324.2713, 193.3742)
  line L15 (-324.2713, 187.9264) -> (-324.2713, 109.0022) projected
  line L16 (-268.2713, 109.0022) -> (-268.2713, 187.9264) projected
  point P0 (0, 0)
  dimension "d11" = 5
  dimension "d12" = 5
extrude "Extrusion3" add sketch "Sketch3" against normal blind 100 contours L0 L12 L3 L2 | L7 L8 L9 L6 | L0 L4 L3 L14
fillet "Fillet1" radius 5 2 edges at (-324.2713, 193.3742, -5) (-268.2713, 193.3742, -5)
properties part number "electronics box"
